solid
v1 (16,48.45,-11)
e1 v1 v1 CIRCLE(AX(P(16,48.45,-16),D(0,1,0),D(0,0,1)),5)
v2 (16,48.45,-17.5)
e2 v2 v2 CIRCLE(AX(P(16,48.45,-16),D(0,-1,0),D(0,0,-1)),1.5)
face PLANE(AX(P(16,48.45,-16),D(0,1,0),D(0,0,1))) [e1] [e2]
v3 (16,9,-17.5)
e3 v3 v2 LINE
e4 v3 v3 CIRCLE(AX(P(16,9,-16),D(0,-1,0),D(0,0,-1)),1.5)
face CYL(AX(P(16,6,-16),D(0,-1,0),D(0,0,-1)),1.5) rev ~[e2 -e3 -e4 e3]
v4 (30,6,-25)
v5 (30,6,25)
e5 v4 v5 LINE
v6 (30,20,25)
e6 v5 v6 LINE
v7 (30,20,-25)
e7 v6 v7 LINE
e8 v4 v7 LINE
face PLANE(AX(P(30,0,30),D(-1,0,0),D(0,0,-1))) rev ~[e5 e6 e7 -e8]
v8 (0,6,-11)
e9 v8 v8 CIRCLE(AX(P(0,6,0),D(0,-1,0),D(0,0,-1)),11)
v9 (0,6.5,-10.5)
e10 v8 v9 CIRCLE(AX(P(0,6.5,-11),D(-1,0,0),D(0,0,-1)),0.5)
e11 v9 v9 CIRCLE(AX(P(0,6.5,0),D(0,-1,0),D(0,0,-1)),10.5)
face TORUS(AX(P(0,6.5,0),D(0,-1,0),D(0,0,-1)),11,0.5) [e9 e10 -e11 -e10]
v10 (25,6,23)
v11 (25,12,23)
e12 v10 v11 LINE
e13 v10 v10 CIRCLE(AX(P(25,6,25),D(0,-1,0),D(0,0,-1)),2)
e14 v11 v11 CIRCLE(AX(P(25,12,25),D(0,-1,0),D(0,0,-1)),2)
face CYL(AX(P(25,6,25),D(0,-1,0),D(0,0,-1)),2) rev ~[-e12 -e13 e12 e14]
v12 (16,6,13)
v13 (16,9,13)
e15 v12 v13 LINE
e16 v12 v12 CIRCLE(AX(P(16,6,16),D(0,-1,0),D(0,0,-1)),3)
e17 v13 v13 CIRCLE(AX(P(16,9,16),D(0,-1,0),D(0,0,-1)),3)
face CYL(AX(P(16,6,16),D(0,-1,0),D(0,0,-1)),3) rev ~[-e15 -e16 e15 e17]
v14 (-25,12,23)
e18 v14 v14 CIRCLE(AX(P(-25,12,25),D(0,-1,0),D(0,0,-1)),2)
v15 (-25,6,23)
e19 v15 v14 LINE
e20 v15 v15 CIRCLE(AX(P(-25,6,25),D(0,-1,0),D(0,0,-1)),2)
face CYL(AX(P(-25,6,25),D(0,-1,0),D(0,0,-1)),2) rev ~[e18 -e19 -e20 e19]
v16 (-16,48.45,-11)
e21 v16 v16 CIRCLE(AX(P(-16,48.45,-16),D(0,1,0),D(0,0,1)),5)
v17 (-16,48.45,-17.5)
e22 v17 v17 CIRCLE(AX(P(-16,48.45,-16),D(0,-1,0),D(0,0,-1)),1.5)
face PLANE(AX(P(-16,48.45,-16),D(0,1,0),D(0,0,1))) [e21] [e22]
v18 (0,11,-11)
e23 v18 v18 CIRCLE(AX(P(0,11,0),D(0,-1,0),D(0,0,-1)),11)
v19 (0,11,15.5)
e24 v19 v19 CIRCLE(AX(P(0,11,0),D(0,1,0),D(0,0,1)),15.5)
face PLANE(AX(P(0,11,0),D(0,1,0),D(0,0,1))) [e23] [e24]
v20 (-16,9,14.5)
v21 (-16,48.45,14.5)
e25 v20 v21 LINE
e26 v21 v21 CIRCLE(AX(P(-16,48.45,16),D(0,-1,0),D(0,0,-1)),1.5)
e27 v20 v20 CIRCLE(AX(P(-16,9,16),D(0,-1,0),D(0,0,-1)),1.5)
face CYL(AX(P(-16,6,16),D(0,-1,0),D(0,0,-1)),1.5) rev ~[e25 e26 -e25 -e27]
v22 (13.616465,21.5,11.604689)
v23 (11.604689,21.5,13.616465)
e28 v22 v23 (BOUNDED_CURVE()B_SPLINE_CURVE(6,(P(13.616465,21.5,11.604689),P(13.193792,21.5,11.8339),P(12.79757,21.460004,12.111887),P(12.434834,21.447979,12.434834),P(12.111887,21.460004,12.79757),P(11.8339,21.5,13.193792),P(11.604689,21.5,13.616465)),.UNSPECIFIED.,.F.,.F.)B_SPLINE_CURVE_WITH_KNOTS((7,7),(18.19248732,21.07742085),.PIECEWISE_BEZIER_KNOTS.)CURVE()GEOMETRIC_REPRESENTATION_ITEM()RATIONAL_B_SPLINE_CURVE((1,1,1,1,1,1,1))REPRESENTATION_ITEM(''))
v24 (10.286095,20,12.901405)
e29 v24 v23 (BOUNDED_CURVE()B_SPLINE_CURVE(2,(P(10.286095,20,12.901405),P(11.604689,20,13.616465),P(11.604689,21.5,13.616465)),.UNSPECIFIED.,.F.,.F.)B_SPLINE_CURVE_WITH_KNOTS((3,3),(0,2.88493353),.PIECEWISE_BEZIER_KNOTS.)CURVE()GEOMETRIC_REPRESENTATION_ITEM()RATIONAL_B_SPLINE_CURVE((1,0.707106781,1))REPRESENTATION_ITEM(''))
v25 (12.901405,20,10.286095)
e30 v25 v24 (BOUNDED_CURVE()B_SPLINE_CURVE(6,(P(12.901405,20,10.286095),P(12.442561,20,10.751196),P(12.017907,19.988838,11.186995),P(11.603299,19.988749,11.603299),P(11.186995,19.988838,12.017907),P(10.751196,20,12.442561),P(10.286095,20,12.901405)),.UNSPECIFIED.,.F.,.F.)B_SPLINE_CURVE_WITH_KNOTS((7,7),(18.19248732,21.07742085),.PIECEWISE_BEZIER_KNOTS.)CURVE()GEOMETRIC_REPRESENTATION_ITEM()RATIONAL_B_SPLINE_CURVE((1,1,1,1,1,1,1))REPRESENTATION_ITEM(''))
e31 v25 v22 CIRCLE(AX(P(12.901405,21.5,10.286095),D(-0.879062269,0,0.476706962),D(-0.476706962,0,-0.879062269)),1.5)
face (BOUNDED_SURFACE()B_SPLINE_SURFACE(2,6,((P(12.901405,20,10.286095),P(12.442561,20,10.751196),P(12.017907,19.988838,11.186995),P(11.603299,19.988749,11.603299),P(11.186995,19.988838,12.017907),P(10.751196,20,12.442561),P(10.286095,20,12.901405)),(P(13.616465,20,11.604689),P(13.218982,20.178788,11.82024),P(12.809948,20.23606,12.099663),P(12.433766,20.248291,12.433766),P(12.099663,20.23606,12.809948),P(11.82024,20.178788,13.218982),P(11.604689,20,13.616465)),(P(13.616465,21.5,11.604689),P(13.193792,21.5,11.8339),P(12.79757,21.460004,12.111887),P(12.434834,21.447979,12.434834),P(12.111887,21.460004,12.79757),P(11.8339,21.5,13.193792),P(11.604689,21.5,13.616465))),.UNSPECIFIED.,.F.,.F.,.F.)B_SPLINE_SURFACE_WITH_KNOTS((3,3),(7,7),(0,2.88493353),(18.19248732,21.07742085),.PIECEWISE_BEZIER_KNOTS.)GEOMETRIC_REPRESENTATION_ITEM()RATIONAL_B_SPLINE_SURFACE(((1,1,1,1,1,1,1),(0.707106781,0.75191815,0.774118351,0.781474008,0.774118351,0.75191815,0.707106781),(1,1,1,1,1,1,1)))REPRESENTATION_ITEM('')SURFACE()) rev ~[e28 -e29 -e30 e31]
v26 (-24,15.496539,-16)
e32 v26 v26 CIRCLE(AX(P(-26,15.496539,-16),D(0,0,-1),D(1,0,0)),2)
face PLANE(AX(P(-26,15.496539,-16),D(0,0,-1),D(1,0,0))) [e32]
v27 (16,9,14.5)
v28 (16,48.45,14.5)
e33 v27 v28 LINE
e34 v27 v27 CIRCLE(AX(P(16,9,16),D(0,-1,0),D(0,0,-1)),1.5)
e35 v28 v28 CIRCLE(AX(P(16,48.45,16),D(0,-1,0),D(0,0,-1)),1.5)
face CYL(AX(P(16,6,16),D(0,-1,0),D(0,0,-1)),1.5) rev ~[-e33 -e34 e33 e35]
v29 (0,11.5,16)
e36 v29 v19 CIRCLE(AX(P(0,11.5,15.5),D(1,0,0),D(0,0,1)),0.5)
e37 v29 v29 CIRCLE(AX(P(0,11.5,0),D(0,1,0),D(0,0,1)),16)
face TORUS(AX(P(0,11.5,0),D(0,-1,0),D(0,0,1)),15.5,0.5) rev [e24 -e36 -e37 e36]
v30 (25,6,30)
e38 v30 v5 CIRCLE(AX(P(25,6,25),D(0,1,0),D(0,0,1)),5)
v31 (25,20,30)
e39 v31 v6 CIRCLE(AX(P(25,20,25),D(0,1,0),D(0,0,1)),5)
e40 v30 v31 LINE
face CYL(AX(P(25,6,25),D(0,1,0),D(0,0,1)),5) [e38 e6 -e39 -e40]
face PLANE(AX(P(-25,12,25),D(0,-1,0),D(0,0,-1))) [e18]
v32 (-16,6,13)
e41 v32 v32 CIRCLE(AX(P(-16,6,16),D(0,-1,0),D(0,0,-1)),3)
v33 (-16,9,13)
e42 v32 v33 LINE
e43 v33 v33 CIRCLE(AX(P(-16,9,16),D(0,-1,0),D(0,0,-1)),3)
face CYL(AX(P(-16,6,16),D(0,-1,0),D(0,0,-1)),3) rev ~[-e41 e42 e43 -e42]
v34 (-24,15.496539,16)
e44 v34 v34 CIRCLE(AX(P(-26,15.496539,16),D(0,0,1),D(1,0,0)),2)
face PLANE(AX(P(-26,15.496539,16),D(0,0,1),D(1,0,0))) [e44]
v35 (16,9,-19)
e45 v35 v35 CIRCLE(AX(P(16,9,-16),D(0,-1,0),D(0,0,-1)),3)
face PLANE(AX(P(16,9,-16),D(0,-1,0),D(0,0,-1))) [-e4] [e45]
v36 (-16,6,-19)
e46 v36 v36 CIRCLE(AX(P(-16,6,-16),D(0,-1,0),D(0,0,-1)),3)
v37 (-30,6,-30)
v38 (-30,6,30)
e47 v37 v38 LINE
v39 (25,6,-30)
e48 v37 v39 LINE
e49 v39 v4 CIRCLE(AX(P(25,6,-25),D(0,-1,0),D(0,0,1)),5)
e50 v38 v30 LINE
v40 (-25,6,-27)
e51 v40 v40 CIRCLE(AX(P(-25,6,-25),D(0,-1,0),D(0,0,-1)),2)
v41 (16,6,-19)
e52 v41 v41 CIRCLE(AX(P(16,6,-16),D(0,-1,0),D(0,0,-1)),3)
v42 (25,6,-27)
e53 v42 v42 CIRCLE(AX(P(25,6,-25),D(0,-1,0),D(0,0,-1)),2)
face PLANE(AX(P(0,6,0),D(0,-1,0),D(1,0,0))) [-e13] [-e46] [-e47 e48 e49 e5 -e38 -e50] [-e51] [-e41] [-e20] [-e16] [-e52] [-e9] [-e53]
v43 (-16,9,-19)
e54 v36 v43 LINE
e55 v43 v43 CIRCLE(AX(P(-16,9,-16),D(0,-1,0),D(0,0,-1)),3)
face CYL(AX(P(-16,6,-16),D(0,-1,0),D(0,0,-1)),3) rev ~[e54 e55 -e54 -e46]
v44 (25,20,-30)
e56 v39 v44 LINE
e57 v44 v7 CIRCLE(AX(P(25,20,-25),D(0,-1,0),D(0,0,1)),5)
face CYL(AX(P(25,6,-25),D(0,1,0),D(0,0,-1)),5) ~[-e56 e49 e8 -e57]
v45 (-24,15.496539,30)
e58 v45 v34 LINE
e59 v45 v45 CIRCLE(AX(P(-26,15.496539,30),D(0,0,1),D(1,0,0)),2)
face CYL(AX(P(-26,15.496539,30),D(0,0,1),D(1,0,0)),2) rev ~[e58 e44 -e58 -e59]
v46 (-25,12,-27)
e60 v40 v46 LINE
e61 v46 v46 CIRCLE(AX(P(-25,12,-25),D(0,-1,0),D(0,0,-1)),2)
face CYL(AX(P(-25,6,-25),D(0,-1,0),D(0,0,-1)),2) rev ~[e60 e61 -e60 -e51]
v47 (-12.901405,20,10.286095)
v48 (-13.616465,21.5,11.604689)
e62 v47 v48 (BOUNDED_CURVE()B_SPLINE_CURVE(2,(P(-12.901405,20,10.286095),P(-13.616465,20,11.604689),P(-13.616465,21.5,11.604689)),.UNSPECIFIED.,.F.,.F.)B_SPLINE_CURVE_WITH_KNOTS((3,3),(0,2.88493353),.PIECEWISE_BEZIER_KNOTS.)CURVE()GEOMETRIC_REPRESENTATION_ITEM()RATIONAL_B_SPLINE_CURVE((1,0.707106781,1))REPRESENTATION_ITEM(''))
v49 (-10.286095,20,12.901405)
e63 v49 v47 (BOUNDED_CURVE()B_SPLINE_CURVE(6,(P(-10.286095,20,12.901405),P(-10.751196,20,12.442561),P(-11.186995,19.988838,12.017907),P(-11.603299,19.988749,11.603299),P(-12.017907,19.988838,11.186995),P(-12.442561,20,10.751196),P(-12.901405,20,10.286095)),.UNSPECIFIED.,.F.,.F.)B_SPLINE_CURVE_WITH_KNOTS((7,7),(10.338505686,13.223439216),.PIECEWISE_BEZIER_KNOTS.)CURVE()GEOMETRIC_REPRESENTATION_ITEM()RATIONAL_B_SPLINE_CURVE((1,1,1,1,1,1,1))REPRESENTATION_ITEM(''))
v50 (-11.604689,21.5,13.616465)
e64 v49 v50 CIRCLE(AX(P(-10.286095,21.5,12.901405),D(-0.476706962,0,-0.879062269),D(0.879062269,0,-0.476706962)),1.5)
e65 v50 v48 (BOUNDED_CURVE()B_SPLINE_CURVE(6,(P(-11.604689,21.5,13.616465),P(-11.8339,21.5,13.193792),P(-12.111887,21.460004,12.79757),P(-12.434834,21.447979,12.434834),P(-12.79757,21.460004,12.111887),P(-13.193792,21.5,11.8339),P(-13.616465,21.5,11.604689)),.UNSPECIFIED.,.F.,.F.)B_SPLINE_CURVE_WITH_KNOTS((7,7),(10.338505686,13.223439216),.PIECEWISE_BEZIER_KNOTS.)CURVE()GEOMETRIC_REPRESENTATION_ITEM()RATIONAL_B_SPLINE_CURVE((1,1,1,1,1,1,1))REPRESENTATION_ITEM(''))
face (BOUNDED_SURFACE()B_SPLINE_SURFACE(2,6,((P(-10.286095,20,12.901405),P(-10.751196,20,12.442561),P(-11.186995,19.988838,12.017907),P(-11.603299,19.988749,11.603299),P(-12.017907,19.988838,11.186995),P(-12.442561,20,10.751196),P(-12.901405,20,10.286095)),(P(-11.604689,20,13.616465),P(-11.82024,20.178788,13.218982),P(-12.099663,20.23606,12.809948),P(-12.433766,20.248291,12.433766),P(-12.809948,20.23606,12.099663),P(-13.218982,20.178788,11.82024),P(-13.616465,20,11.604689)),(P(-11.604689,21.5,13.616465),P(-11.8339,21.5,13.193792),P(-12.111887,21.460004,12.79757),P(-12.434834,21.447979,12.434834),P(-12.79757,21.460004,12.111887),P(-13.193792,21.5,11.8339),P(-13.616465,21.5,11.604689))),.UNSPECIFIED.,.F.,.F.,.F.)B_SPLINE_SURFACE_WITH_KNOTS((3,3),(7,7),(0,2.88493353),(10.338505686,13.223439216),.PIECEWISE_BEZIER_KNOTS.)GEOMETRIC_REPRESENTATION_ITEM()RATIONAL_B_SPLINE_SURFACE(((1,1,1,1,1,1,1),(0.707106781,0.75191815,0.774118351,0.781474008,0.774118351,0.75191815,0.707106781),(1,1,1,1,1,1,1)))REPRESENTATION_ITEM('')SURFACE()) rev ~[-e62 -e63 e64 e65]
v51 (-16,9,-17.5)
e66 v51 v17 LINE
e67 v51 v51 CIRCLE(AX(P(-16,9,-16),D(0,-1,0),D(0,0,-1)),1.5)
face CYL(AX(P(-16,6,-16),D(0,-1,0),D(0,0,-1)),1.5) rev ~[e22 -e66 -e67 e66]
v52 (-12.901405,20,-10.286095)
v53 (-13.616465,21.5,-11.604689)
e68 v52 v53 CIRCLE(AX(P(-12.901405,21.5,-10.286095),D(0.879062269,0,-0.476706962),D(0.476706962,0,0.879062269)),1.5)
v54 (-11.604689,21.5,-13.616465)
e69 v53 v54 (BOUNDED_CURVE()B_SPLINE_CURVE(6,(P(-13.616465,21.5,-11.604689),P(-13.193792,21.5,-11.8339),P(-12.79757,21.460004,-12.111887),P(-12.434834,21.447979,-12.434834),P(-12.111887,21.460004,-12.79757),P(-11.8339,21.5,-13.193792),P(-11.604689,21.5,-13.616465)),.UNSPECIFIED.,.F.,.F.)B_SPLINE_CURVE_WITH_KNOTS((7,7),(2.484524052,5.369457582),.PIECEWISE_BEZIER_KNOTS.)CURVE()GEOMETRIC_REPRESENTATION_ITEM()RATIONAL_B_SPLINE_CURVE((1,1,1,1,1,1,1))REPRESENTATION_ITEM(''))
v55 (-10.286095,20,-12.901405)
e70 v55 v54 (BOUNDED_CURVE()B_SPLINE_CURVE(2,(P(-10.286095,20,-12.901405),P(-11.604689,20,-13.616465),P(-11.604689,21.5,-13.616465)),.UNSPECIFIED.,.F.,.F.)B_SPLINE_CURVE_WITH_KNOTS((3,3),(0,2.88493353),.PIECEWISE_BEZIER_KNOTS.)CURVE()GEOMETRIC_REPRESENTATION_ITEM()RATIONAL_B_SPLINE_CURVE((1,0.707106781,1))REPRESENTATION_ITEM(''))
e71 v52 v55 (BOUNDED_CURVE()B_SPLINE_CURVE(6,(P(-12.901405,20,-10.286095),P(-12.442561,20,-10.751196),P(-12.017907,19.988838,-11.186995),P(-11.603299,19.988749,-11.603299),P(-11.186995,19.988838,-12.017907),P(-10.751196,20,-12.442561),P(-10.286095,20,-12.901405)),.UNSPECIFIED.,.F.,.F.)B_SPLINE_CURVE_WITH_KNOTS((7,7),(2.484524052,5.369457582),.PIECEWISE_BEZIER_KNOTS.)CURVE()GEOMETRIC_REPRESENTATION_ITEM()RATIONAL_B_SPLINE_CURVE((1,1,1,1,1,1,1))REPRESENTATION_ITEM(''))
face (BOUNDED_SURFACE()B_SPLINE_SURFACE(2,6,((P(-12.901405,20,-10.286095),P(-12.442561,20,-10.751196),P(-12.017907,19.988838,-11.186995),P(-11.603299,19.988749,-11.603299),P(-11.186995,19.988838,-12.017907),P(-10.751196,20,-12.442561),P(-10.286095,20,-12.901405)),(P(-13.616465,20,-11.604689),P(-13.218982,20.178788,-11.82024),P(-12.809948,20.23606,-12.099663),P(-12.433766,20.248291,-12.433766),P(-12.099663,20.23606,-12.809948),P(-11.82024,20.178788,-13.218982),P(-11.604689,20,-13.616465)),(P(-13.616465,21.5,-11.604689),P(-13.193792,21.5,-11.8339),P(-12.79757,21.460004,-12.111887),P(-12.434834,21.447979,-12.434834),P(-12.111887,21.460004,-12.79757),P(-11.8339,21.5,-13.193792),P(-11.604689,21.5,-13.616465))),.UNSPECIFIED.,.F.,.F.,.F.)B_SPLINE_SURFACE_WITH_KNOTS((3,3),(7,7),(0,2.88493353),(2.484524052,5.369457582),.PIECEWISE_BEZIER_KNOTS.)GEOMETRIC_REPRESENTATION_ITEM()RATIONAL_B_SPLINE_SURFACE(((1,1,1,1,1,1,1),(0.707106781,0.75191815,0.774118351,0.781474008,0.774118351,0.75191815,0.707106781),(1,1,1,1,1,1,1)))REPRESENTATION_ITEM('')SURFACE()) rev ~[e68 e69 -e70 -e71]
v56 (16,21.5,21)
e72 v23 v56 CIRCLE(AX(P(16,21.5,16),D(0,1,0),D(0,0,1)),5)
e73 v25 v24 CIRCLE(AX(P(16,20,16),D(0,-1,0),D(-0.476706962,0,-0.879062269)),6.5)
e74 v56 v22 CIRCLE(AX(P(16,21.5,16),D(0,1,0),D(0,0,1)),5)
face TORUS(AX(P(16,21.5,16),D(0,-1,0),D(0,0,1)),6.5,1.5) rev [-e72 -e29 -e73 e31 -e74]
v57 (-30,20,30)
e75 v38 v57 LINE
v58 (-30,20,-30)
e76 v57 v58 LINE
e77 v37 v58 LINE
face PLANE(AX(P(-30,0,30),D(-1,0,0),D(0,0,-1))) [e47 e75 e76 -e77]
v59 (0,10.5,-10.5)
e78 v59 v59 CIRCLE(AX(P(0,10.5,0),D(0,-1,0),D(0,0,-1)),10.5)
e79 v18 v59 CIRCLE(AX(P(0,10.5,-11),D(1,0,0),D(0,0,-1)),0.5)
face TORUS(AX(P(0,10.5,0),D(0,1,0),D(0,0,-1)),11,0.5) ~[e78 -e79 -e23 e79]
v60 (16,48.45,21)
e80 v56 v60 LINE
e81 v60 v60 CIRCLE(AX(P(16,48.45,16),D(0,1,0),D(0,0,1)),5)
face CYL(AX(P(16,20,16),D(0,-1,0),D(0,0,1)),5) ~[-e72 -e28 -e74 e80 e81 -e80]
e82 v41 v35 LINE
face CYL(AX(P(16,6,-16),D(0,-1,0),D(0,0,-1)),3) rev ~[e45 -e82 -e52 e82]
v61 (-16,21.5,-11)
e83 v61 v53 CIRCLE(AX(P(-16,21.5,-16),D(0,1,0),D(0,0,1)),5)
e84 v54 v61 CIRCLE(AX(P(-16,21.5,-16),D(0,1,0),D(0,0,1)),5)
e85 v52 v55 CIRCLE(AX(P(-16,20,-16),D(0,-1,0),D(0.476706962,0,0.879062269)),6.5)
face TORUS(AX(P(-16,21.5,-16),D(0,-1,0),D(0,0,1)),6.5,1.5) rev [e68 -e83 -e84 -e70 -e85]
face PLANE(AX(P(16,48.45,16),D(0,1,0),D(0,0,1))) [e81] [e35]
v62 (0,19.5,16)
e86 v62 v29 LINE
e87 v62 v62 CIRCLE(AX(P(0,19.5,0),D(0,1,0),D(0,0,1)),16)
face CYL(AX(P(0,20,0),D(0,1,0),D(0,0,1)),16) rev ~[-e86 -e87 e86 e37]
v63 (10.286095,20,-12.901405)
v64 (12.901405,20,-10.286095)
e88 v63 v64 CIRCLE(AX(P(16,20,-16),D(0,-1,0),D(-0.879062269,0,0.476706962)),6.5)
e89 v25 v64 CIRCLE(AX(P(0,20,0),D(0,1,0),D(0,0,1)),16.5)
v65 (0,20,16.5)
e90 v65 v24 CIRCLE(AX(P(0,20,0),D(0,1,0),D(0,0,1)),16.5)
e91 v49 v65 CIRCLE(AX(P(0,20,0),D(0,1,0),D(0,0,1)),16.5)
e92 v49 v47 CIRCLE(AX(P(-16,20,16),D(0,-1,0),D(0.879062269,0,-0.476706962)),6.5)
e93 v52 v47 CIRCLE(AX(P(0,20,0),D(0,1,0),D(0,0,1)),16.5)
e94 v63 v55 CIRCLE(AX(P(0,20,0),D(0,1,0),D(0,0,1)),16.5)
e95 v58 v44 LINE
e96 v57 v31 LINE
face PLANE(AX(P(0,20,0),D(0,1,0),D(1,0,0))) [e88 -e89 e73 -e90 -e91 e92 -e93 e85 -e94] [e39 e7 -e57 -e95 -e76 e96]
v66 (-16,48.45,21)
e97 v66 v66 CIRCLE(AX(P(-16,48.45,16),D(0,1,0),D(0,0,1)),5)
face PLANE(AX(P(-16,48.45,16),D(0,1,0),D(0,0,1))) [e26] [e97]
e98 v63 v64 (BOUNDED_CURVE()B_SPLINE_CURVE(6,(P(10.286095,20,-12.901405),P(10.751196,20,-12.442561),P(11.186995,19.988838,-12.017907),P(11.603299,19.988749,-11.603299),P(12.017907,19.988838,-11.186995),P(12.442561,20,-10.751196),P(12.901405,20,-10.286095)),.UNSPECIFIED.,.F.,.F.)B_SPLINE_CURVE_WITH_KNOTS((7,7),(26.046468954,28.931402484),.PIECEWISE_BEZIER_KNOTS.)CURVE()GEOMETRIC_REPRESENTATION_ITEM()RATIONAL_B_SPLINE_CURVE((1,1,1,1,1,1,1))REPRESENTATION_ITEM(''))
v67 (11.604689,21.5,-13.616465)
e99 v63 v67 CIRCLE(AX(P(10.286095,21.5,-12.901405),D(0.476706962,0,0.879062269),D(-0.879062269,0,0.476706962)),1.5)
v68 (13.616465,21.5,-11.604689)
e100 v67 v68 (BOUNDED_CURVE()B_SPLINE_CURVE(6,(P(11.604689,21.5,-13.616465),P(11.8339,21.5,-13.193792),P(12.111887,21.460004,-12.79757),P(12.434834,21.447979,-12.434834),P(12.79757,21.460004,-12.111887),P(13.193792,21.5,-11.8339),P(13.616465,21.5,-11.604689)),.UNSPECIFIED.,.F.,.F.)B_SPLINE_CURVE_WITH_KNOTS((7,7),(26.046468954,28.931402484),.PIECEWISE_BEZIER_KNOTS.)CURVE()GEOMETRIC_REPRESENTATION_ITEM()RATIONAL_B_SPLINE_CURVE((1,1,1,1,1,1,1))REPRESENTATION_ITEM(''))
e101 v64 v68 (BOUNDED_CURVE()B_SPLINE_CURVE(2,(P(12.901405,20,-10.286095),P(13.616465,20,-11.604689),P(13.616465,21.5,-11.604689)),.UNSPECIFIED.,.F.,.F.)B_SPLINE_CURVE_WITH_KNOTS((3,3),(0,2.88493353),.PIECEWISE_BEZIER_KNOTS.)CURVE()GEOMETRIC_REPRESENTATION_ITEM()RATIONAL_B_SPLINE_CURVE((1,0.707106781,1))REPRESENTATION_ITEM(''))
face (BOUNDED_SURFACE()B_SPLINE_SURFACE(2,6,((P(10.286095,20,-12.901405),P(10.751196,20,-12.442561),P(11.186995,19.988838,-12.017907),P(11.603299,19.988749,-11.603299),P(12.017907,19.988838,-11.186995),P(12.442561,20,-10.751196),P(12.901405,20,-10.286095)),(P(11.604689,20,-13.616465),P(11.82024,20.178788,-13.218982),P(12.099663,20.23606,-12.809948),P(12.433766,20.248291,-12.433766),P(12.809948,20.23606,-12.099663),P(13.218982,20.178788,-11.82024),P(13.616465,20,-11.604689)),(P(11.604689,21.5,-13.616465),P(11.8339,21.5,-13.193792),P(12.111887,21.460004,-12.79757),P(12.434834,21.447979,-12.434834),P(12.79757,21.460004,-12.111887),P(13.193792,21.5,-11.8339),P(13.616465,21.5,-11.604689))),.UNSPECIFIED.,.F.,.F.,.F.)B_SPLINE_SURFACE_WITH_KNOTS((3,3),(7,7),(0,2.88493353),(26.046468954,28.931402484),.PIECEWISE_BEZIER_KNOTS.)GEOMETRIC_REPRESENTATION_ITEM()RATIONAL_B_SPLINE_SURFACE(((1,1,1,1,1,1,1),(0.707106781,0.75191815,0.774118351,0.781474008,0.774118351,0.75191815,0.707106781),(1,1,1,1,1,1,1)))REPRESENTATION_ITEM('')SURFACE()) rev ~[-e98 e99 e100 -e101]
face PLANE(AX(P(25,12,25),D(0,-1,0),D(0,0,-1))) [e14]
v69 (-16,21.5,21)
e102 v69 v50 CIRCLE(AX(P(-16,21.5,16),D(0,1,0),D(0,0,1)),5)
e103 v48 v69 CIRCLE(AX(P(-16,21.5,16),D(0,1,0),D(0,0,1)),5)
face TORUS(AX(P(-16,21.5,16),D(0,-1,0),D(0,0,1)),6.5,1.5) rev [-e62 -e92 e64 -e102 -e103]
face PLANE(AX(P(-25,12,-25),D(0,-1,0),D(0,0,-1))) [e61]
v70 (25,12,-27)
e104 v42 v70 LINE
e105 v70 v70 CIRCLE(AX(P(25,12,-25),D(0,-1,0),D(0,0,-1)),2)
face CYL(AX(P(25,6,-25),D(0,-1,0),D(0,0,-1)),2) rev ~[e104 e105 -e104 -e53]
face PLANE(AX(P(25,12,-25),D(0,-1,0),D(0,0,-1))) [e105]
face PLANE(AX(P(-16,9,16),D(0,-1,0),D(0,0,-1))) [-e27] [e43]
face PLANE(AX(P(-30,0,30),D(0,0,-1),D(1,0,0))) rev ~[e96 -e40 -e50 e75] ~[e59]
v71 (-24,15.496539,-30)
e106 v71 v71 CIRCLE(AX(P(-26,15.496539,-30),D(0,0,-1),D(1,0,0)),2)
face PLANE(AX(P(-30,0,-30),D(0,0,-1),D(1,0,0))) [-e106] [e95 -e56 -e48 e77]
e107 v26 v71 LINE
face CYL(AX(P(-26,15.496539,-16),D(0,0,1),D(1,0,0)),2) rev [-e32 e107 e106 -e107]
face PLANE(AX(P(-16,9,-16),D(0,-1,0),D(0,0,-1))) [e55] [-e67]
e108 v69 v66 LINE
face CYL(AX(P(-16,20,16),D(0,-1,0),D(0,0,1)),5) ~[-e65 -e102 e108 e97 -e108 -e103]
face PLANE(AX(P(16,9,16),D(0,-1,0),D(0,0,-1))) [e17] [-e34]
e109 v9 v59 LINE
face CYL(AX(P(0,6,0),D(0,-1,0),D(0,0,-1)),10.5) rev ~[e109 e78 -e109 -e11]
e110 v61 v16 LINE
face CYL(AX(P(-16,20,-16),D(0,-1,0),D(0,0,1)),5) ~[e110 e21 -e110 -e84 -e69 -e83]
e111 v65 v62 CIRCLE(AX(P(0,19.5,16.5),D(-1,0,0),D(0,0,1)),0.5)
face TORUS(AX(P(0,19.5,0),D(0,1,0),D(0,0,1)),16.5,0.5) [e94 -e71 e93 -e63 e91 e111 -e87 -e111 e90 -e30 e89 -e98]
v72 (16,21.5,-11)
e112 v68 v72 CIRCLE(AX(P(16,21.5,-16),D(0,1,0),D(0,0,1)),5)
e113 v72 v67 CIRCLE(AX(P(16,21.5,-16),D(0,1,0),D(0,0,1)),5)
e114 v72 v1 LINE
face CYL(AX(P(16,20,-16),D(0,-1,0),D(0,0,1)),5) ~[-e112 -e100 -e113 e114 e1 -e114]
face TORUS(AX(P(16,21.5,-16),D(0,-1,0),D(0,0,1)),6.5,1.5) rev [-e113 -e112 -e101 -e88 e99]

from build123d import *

# Parameters (mm, degrees)
SKETCH1_W           = 60
SKETCH1_H           = 60
BOSS_EXTRUDE1_DEPTH = 20
SKETCH2_R           = 7.5
CUT_EXTRUDE1_DEPTH  = 20
SKETCH3_R           = 16
CUT_EXTRUDE2_DEPTH  = 9
FILLET1_R           = 0.5
SKETCH4_W           = 50
SKETCH4_H           = 50
CUT_EXTRUDE3_DEPTH  = 6
SKETCH6_R           = 5
BOSS_EXTRUDE2_DEPTH = 28.45
SKETCH5_R           = 1.5
CUT_EXTRUDE5_DEPTH  = 54.45
SKETCH7_R           = 3
CUT_EXTRUDE6_DEPTH  = 3
FILLET2_R           = 1.5
SKETCH8_R           = 10.5
CUT_EXTRUDE7_DEPTH  = 9
FILLET3_R           = 0.5
SKETCH9_W           = 60
SKETCH9_H           = 60
SKETCH9_W_2         = 50
SKETCH9_H_2         = 50
CUT_EXTRUDE8_DEPTH  = 6
SKETCH10_R          = 2
CUT_EXTRUDE9_DEPTH  = 6
FILLET4_R           = 5
SKETCH11_R          = 2
CUT_EXTRUDE10_DEPTH = 14
CUT_EXTRUDE11_START = -14
SKETCH12_R          = 2
CUT_EXTRUDE11_DEPTH = 14


with BuildPart() as part:
    # Sketch1 → Boss-Extrude1 (new body)
    with BuildSketch(Plane(origin=(0, 0, 0), x_dir=(1, 0, 0), z_dir=(0, 1, 0))):
        Rectangle(SKETCH1_W, SKETCH1_H)
    extrude(amount=BOSS_EXTRUDE1_DEPTH)

    # Sketch2 → Cut-Extrude1 (cut)
    with BuildSketch(Plane(origin=(0, 20, 0), x_dir=(1, 0, 0), z_dir=(0, 1, 0))):
        with Locations(Location((0, 0, 0), (0, 0, 270))):
            Circle(SKETCH2_R)
    extrude(amount=-CUT_EXTRUDE1_DEPTH, mode=Mode.SUBTRACT)

    # Sketch3 → Cut-Extrude2 (cut)
    with BuildSketch(Plane(origin=(0, 20, 0), x_dir=(1, 0, 0), z_dir=(0, 1, 0))):
        with Locations(Location((0, 0, 0), (0, 0, 270))):
            Circle(SKETCH3_R)
    extrude(amount=-CUT_EXTRUDE2_DEPTH, mode=Mode.SUBTRACT)

    # Fillet1
    fillet1_edges = [part.edges().sort_by_distance(p)[0] for p in [
        (0, 0, -7.5),
        (0, 20, -16),
        (0, 11, -16),
        (0, 11, -7.5),
    ]]
    fillet(fillet1_edges, radius=FILLET1_R)

    # Sketch4 → Cut-Extrude3 (cut)
    with BuildSketch(Plane.XZ):
        Rectangle(SKETCH4_W, SKETCH4_H)
    extrude(amount=-CUT_EXTRUDE3_DEPTH, mode=Mode.SUBTRACT)

    # Sketch6 → Boss-Extrude2 (add)
    with BuildSketch(Plane(origin=(0, 20, 0), x_dir=(1, 0, 0), z_dir=(0, 1, 0))):
        with Locations(Location((-16, 16, 0), (0, 0, 270))):
            Circle(SKETCH6_R)
        with Locations(Location((16, 16, 0), (0, 0, 270))):
            Circle(SKETCH6_R)
        with Locations(Location((-16, -16, 0), (0, 0, 270))):
            Circle(SKETCH6_R)
        with Locations(Location((16, -16, 0), (0, 0, 270))):
            Circle(SKETCH6_R)
    extrude(amount=BOSS_EXTRUDE2_DEPTH)

    # Sketch5 → Cut-Extrude5 (cut)
    with BuildSketch(Plane.XZ.offset(-6)):
        with Locations(Location((-16, 16, 0), (0, 0, 270))):
            Circle(SKETCH5_R)
        with Locations(Location((-16, -16, 0), (0, 0, 270))):
            Circle(SKETCH5_R)
        with Locations(Location((16, -16, 0), (0, 0, 270))):
            Circle(SKETCH5_R)
        with Locations(Location((16, 16, 0), (0, 0, 270))):
            Circle(SKETCH5_R)
    extrude(amount=-CUT_EXTRUDE5_DEPTH, mode=Mode.SUBTRACT)

    # Sketch7 → Cut-Extrude6 (cut)
    with BuildSketch(Plane.XZ.offset(-6)):
        with Locations(Location((-16, 16, 0), (0, 0, 270))):
            Circle(SKETCH7_R)
        with Locations(Location((-16, -16, 0), (0, 0, 270))):
            Circle(SKETCH7_R)
        with Locations(Location((16, -16, 0), (0, 0, 270))):
            Circle(SKETCH7_R)
        with Locations(Location((16, 16, 0), (0, 0, 270))):
            Circle(SKETCH7_R)
    extrude(amount=-CUT_EXTRUDE6_DEPTH, mode=Mode.SUBTRACT)

    # Fillet2
    fillet2_edges = [part.edges().sort_by_distance(p)[0] for p in [
        (16, 20, -21),
        (-16, 20, 11),
        (16, 20, 11),
        (-16, 20, -21),
    ]]
    fillet(fillet2_edges, radius=FILLET2_R)

    # Sketch8 → Cut-Extrude7 (cut)
    with BuildSketch(Plane.XZ.offset(-6)):
        with Locations(Location((0, 0, 0), (0, 0, 270))):
            Circle(SKETCH8_R)
    extrude(amount=-CUT_EXTRUDE7_DEPTH, mode=Mode.SUBTRACT)

    # Fillet3
    fillet3_edges = [part.edges().sort_by_distance(p)[0] for p in [
        (0, 6, 10.5),
        (0, 11, 10.5),
    ]]
    fillet(fillet3_edges, radius=FILLET3_R)

    # Sketch9 → Cut-Extrude8 (cut)
    with BuildSketch(Plane.XZ):
        Rectangle(SKETCH9_W, SKETCH9_H)
        Rectangle(SKETCH9_W_2, SKETCH9_H_2, mode=Mode.SUBTRACT)
    extrude(amount=-CUT_EXTRUDE8_DEPTH, mode=Mode.SUBTRACT)

    # Sketch10 → Cut-Extrude9 (cut)
    with BuildSketch(Plane.XZ.offset(-6)):
        with Locations(Location((-25, 25, 0), (0, 0, 270))):
            Circle(SKETCH10_R)
        with Locations(Location((-25, -25, 0), (0, 0, 270))):
            Circle(SKETCH10_R)
        with Locations(Location((25, -25, 0), (0, 0, 270))):
            Circle(SKETCH10_R)
        with Locations(Location((25, 25, 0), (0, 0, 270))):
            Circle(SKETCH10_R)
    extrude(amount=-CUT_EXTRUDE9_DEPTH, mode=Mode.SUBTRACT)

    # Fillet4
    fillet4_edges = [part.edges().sort_by_distance(p)[0] for p in [
        (30, 13, -30),
        (30, 13, 30),
    ]]
    fillet(fillet4_edges, radius=FILLET4_R)

    # Sketch11 → Cut-Extrude10 (cut)
    with BuildSketch(Plane.XY.offset(30)):
        with Locations((-26, 15.496538957)):
            Circle(SKETCH11_R)
    extrude(amount=-CUT_EXTRUDE10_DEPTH, mode=Mode.SUBTRACT)

    # Sketch12 → Cut-Extrude11 (cut)
    with BuildSketch(Plane(origin=(0, 0, -30), x_dir=(-1, 0, 0), z_dir=(0, 0, -1)).offset(CUT_EXTRUDE11_START)):
        with Locations(Location((26, 15.496538957, 0), (0, 0, 180))):
            Circle(SKETCH12_R)
    extrude(amount=CUT_EXTRUDE11_DEPTH, mode=Mode.SUBTRACT)


solid = part.part
